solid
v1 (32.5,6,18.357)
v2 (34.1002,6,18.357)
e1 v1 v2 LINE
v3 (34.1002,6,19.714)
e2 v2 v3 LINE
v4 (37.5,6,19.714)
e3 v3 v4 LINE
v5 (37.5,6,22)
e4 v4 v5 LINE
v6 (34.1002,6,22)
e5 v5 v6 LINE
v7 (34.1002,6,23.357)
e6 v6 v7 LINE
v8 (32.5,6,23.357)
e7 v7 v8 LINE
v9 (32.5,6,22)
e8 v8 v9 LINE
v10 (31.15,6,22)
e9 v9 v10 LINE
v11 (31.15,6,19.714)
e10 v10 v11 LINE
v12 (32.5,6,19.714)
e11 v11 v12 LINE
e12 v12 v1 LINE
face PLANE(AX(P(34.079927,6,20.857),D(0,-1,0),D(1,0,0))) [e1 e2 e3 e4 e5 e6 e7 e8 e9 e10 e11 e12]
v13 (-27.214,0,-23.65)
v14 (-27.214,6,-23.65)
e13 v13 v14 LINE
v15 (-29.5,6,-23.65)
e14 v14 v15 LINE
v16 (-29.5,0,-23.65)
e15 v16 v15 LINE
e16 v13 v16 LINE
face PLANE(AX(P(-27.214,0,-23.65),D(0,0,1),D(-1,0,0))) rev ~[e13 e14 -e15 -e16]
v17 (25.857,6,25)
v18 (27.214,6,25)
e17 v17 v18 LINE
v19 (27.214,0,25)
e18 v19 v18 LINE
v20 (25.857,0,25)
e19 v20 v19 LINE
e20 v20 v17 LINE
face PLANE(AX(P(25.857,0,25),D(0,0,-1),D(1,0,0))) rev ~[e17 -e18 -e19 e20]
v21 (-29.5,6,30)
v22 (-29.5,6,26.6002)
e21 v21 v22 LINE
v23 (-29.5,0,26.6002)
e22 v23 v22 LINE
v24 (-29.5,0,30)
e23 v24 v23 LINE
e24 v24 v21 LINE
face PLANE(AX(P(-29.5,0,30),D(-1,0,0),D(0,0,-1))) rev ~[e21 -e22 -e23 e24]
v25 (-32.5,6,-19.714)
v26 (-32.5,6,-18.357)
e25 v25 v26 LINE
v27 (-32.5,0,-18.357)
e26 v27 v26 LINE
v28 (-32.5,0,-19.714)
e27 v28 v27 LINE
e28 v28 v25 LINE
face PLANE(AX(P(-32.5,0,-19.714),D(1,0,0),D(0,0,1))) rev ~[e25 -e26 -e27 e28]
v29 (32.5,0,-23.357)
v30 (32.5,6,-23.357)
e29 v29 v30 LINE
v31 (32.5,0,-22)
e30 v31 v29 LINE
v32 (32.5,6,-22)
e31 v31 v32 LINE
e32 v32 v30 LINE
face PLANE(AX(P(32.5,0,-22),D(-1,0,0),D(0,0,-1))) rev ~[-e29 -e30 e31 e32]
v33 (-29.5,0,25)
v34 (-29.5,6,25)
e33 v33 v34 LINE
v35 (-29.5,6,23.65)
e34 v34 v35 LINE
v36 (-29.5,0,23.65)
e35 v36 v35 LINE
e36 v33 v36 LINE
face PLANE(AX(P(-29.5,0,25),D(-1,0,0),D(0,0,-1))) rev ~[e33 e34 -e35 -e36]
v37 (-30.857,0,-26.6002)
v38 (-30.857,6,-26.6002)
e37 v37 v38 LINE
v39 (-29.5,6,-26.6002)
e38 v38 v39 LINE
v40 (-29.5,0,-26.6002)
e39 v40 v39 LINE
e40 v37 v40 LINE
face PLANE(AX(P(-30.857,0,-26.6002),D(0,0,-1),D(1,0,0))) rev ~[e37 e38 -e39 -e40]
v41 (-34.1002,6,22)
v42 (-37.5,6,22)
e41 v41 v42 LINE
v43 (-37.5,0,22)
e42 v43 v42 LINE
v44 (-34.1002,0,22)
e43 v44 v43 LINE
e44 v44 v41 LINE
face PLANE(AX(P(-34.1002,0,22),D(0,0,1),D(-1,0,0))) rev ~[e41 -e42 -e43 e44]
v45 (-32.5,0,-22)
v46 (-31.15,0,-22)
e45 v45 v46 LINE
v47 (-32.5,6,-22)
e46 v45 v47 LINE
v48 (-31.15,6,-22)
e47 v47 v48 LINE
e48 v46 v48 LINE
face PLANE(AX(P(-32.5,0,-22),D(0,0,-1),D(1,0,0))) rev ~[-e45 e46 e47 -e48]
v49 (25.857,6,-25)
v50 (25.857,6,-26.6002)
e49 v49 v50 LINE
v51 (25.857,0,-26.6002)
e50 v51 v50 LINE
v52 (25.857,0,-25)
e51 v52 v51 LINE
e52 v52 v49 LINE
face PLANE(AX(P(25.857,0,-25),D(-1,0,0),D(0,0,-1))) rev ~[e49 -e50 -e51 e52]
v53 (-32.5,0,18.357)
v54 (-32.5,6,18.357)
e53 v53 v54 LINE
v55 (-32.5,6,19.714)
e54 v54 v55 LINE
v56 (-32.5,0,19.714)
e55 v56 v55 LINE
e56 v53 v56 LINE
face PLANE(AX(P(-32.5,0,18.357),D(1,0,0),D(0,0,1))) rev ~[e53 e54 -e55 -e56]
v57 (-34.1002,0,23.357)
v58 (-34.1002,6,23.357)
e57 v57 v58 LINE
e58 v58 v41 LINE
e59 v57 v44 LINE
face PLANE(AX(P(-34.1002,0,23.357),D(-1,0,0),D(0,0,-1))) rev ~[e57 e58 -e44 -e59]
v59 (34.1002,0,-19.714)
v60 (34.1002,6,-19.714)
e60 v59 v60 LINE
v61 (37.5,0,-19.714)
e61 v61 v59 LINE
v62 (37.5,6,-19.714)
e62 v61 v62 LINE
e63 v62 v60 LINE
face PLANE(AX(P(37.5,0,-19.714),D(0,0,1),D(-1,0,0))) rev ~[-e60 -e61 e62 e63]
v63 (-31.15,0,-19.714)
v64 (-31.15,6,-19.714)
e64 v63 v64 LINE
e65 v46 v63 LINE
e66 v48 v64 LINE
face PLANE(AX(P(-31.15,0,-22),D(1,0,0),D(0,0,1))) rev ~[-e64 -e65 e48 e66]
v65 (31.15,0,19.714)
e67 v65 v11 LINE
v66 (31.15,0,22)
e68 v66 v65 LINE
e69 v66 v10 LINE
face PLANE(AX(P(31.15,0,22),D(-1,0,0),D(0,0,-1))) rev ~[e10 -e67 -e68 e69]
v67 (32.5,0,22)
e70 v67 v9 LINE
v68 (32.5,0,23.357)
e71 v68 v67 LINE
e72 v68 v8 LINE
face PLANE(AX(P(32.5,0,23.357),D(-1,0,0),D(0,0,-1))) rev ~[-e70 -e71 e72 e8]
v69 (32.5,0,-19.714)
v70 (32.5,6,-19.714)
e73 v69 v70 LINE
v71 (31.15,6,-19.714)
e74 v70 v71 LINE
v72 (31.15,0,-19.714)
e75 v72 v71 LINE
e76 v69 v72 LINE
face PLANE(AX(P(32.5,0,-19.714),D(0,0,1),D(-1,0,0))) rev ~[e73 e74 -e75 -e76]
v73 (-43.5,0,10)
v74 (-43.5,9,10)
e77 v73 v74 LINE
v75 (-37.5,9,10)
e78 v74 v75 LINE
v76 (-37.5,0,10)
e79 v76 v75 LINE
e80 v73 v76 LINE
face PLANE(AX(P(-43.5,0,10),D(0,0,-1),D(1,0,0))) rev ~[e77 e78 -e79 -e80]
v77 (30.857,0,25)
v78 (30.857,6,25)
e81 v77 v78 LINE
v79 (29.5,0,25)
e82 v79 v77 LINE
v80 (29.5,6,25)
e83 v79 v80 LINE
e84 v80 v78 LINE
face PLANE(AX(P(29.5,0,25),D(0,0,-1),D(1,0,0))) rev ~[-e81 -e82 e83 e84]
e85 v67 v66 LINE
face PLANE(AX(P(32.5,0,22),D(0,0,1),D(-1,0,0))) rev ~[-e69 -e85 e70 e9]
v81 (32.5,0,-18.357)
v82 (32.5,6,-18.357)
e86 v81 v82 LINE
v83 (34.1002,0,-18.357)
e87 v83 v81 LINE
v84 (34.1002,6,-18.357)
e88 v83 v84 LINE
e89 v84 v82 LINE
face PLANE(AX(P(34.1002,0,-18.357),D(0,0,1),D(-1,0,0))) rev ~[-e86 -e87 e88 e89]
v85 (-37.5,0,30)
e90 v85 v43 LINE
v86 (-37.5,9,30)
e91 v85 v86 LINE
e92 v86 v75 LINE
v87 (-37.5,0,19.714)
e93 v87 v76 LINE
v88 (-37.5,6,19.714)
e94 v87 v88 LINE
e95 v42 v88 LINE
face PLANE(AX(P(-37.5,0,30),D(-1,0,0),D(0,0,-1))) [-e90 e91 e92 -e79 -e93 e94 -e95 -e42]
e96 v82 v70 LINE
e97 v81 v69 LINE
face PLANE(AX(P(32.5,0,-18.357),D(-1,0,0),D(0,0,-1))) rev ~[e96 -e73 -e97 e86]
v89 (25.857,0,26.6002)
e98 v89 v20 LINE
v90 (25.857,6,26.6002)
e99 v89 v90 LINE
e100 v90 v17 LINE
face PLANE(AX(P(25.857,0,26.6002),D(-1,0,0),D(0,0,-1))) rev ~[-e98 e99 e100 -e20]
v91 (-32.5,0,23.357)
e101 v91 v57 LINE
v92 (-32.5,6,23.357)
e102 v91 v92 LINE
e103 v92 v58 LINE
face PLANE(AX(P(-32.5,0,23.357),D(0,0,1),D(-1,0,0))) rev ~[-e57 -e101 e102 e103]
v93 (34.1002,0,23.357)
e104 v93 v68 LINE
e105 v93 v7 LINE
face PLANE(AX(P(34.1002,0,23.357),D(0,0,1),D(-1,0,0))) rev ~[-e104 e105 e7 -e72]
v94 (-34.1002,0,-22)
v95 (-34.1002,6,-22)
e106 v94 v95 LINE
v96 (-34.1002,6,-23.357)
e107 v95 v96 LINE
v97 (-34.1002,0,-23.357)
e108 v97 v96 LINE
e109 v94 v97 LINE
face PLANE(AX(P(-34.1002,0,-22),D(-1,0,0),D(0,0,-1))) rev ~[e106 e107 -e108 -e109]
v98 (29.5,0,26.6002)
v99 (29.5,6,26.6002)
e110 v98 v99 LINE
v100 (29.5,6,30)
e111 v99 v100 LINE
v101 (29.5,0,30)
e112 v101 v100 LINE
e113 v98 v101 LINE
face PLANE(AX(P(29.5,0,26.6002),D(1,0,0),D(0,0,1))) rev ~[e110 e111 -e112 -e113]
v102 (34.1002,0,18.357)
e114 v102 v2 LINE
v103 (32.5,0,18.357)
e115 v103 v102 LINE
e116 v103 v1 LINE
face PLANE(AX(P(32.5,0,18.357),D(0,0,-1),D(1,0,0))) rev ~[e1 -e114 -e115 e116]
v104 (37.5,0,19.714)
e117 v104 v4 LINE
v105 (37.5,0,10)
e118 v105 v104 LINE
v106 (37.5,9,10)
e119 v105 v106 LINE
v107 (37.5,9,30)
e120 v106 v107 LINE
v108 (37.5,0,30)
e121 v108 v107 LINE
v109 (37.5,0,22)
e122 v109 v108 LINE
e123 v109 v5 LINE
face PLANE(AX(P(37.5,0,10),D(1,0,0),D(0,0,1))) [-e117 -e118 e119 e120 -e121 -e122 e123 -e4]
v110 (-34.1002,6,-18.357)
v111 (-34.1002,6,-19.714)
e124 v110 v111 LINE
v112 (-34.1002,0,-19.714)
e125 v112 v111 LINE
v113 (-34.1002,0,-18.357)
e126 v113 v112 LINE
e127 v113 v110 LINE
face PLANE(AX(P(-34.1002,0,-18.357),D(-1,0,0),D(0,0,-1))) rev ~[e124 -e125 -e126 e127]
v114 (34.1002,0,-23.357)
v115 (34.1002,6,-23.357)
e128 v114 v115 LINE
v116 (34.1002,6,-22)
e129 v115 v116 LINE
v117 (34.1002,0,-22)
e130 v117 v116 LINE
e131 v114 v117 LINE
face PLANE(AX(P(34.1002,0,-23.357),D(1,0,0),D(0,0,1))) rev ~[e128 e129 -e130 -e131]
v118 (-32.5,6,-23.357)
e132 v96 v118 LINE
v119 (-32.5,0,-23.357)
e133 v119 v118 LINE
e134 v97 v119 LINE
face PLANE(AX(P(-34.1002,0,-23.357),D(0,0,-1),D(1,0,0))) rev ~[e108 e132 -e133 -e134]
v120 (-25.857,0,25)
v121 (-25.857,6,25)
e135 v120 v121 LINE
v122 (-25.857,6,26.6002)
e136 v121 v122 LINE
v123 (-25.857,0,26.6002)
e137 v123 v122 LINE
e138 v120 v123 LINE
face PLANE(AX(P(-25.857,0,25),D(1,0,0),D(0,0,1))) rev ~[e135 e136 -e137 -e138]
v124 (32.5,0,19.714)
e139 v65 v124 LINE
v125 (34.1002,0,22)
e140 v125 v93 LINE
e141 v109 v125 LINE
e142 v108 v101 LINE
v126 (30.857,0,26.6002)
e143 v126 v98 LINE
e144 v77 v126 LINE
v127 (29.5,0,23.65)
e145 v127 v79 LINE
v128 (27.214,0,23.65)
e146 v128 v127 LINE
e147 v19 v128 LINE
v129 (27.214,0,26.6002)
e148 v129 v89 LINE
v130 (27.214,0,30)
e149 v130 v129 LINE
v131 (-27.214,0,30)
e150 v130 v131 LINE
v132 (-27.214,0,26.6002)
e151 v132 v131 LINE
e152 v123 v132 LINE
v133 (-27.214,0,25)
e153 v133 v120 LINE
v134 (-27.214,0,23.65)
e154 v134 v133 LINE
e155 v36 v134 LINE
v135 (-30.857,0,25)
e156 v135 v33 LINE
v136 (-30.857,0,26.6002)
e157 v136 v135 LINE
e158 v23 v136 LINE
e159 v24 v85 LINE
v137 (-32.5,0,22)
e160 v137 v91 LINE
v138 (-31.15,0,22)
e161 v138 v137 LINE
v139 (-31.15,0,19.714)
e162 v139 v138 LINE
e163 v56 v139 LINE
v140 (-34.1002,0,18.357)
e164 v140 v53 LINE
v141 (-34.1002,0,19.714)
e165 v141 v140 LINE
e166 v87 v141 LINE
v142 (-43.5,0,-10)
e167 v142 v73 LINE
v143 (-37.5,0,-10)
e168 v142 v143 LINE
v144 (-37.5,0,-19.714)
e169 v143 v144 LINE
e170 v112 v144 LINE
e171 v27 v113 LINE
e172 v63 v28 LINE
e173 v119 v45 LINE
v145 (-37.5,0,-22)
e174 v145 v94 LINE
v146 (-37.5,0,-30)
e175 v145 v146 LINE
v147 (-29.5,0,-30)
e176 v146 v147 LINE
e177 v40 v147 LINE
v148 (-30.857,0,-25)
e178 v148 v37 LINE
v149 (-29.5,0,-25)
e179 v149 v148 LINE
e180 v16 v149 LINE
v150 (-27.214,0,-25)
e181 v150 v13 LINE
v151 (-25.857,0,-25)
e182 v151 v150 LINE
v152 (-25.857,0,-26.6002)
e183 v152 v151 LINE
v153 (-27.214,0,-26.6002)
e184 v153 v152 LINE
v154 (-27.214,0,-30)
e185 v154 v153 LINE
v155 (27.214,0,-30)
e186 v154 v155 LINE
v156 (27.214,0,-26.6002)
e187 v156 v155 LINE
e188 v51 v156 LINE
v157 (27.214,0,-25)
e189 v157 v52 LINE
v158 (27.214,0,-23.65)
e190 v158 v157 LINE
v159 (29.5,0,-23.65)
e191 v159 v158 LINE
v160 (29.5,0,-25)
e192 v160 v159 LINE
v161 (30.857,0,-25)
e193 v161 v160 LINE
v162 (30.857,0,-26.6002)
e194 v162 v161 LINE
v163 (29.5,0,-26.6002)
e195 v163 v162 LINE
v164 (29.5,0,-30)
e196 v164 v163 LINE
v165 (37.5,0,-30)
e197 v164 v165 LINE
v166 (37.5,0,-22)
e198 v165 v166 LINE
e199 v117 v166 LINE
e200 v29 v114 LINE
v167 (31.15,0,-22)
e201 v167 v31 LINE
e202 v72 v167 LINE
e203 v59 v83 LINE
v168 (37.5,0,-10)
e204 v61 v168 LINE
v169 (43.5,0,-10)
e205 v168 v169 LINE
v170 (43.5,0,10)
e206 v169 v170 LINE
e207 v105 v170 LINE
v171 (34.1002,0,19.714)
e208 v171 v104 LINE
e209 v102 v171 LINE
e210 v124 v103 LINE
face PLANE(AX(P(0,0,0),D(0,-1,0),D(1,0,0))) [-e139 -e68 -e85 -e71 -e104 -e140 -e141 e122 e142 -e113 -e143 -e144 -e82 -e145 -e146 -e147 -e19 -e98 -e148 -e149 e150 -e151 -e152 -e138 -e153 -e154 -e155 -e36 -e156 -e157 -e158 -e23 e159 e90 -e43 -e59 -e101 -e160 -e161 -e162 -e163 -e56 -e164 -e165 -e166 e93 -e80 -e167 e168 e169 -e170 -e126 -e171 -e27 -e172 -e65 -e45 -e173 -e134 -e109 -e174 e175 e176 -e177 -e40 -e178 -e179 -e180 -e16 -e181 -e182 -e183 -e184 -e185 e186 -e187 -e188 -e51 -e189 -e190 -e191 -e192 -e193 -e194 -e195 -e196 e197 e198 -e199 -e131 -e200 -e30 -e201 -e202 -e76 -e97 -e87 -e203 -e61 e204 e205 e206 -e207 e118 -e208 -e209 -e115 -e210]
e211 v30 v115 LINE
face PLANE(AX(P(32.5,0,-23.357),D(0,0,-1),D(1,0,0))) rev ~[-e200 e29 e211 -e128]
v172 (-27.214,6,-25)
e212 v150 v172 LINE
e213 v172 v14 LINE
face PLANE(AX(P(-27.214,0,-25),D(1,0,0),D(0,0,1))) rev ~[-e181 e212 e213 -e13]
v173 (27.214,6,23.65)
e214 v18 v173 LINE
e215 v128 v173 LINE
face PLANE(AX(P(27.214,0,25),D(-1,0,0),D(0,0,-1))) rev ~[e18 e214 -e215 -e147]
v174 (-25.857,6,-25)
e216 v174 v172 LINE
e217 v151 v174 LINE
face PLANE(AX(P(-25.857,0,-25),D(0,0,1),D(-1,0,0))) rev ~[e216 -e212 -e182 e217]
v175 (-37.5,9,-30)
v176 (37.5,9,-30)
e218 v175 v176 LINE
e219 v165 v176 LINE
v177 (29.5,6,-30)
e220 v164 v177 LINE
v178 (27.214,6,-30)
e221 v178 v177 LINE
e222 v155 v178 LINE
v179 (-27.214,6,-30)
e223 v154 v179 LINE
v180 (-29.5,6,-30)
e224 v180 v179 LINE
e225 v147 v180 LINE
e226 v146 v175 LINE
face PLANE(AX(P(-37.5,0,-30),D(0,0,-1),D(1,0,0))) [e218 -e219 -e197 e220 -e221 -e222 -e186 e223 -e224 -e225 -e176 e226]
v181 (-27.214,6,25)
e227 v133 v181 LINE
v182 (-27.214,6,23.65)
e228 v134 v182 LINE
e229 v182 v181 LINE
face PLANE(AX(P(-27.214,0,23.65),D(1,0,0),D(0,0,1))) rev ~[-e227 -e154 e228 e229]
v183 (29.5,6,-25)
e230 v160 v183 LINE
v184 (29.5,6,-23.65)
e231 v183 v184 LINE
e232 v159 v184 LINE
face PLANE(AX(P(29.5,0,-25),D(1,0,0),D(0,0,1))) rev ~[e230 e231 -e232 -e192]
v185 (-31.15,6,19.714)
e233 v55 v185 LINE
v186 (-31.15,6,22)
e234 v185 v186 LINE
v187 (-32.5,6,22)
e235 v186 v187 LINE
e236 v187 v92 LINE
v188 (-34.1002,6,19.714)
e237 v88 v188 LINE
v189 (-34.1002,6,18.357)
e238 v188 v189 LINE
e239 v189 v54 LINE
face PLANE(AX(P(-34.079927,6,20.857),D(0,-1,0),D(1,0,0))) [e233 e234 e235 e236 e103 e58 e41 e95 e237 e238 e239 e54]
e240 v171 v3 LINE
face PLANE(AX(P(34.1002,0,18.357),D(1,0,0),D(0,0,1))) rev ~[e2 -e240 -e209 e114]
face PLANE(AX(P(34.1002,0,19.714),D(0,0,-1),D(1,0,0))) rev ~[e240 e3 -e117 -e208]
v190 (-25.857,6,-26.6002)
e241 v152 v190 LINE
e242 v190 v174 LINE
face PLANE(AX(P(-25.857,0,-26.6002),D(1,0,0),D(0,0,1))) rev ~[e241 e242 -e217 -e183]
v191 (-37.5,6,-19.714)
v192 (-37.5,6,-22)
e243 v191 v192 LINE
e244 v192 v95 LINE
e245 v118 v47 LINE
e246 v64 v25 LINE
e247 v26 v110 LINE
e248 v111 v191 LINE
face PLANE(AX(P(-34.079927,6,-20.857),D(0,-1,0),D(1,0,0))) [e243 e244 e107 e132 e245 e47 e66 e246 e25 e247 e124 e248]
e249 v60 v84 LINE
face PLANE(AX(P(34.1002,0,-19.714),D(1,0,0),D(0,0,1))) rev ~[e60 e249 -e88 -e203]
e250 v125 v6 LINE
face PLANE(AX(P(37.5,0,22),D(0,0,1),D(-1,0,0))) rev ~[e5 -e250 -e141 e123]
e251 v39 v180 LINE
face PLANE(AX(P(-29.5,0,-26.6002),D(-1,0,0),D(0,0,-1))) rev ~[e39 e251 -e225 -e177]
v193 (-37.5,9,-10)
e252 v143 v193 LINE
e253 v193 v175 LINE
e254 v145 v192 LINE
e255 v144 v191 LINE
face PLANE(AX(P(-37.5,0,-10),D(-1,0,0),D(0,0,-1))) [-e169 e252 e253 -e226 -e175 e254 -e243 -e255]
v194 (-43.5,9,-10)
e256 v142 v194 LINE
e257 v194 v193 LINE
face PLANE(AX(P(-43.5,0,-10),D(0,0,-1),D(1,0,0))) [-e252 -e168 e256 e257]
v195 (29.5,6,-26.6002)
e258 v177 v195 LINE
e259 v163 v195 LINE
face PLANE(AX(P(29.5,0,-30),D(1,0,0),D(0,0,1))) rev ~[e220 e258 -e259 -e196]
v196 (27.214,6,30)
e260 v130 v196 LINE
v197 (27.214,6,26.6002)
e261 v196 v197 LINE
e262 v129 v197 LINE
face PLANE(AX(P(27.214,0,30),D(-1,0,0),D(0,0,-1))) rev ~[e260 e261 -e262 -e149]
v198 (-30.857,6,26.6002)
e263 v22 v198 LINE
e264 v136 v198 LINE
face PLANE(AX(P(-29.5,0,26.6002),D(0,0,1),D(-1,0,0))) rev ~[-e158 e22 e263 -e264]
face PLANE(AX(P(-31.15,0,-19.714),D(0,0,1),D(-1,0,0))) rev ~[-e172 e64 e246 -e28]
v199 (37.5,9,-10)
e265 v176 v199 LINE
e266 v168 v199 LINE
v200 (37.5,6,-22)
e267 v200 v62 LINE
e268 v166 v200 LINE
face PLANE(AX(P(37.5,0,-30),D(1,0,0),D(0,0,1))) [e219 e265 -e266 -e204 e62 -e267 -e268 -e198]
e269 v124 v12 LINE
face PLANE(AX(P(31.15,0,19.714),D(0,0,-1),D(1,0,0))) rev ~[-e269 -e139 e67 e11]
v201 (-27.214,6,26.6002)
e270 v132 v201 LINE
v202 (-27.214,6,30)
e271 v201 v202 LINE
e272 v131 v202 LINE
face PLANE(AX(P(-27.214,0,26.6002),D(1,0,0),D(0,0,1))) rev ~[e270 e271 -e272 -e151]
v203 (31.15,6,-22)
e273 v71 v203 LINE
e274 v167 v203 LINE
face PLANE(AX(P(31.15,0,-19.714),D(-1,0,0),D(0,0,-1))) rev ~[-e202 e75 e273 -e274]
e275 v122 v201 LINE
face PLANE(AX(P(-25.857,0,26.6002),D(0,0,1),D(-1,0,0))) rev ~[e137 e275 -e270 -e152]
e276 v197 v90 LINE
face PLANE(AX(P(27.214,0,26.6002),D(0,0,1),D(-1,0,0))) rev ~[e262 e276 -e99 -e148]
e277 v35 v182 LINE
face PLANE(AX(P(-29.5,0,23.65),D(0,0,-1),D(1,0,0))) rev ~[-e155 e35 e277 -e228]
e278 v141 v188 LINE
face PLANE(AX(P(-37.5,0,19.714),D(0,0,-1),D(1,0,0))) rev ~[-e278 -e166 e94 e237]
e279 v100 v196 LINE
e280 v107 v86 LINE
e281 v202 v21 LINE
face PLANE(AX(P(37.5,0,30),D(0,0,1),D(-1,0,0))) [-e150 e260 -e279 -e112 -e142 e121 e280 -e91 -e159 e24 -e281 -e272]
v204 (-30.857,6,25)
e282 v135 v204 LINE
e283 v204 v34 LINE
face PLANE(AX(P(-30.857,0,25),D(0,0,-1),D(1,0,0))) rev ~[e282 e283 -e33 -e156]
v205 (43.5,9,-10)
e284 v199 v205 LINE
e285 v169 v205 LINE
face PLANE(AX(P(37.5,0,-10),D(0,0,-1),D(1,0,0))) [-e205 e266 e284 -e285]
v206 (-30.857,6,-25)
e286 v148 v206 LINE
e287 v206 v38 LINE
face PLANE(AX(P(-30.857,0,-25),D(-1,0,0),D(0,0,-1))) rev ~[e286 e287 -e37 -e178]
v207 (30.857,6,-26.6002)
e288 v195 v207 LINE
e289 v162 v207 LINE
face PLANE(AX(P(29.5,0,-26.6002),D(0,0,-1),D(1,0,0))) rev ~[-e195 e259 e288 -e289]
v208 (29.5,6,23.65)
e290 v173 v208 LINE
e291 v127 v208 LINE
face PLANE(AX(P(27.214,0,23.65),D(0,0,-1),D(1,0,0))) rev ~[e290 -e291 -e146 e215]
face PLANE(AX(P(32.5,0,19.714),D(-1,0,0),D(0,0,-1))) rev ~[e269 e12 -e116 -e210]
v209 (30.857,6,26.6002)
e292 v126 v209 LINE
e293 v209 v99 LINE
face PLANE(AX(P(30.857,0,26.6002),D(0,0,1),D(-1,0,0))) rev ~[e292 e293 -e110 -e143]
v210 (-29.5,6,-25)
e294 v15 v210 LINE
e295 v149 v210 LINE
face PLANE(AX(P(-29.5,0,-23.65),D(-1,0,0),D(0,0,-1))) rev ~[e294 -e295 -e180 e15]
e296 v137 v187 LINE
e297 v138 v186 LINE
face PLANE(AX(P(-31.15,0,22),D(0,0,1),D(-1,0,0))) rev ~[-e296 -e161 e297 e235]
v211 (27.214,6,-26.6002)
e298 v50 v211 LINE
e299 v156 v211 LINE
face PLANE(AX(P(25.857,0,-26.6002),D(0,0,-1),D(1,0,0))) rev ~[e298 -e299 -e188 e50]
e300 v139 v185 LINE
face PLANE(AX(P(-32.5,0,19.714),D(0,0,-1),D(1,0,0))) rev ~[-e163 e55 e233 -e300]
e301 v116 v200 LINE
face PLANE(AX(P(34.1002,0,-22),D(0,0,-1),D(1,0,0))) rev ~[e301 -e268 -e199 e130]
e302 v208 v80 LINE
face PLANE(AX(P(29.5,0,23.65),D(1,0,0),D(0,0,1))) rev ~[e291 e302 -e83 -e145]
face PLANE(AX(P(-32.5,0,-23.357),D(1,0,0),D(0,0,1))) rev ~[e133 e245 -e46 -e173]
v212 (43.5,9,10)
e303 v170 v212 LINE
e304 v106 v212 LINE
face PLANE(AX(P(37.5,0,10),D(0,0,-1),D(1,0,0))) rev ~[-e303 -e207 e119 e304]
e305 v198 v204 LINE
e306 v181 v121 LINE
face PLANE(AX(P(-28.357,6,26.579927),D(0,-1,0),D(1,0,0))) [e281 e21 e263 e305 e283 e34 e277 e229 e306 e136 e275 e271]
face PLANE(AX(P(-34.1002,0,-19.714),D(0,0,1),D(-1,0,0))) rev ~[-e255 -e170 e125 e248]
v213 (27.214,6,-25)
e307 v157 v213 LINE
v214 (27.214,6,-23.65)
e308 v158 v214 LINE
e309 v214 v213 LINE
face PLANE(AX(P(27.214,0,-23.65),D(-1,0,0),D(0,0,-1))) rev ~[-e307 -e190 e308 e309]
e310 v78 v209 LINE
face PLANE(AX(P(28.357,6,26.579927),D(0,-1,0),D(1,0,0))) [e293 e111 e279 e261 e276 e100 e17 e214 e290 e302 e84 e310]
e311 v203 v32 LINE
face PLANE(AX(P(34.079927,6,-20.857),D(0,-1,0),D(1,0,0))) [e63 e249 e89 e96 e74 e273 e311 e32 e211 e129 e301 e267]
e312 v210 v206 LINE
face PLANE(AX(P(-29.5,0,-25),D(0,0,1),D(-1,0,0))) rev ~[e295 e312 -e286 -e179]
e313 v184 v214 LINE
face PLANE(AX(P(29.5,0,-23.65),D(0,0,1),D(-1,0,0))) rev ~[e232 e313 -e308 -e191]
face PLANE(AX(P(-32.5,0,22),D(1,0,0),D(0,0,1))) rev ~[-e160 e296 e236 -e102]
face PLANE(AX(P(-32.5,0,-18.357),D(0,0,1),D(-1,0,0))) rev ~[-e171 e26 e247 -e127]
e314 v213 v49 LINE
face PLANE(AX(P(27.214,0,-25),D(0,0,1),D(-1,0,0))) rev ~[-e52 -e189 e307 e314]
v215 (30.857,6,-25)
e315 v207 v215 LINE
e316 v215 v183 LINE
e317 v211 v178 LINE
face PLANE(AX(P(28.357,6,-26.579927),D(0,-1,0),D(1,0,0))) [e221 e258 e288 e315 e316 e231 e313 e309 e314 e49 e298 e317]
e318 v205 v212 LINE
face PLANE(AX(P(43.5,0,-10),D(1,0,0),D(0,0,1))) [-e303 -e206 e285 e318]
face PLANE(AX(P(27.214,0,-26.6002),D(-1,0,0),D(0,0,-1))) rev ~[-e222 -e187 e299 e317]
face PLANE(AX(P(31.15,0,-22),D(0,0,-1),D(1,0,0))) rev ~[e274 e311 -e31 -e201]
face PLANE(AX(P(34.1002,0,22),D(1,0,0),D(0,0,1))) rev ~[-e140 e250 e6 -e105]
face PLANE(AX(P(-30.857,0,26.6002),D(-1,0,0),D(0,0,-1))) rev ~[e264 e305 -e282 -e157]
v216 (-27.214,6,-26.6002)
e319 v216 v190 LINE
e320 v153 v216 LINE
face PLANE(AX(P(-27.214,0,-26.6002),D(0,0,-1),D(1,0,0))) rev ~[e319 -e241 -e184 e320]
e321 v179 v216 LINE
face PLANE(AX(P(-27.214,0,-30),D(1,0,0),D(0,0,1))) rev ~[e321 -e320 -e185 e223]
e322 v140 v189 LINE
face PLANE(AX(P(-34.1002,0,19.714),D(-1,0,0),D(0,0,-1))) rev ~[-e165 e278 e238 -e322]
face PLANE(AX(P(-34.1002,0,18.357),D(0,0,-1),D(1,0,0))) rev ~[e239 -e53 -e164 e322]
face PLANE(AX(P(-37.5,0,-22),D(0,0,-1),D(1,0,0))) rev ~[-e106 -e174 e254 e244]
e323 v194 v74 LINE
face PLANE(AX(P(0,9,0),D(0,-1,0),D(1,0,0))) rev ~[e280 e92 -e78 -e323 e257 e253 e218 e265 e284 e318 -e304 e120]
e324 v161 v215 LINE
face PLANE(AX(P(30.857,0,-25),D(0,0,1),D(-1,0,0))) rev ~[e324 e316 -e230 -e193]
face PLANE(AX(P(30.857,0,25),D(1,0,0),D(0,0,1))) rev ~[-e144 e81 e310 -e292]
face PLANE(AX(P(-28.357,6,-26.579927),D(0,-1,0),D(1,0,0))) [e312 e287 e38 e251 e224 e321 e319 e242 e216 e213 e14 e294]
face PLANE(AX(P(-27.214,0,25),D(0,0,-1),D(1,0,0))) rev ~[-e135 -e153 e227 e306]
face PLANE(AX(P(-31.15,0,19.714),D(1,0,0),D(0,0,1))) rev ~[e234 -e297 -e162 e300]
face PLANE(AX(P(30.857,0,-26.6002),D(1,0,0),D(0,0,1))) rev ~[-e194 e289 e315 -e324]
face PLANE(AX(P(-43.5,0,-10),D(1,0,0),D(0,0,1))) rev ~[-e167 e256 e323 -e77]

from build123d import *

# Parameters (mm, degrees)
F0_W     = 6
F0_H     = 20
F1_DEPTH = 9
F2_DEPTH = 6


with BuildPart() as f1:
    # F0 (on Front) → F1 (new body)
    with BuildSketch(Plane.XZ):
        Polygon((-37.5, -22), (-37.5, -30), (-29.5, -30), (-29.5, -26.6002), (-30.857, -26.6002), (-30.857, -25), (-29.5, -25), (-29.5, -23.65), (-27.214, -23.65), (-27.214, -25), (-25.857, -25), (-25.857, -26.6002), (-27.214, -26.6002), (-27.214, -30), (27.214, -30), (27.214, -26.6002), (25.857, -26.6002), (25.857, -25), (27.214, -25), (27.214, -23.65), (29.5, -23.65), (29.5, -25), (30.857, -25), (30.857, -26.6002), (29.5, -26.6002), (29.5, -30), (37.5, -30), (37.5, -22), (34.1002, -22), (34.1002, -23.357), (32.5, -23.357), (32.5, -22), (31.15, -22), (31.15, -19.714), (32.5, -19.714), (32.5, -18.357), (34.1002, -18.357), (34.1002, -19.714), (37.5, -19.714), (37.5, -10), (37.5, 10), (37.5, 19.714), (34.1002, 19.714), (34.1002, 18.357), (32.5, 18.357), (32.5, 19.714), (31.15, 19.714), (31.15, 22), (32.5, 22), (32.5, 23.357), (34.1002, 23.357), (34.1002, 22), (37.5, 22), (37.5, 30), (29.5, 30), (29.5, 26.6002), (30.857, 26.6002), (30.857, 25), (29.5, 25), (29.5, 23.65), (27.214, 23.65), (27.214, 25), (25.857, 25), (25.857, 26.6002), (27.214, 26.6002), (27.214, 30), (-27.214, 30), (-27.214, 26.6002), (-25.857, 26.6002), (-25.857, 25), (-27.214, 25), (-27.214, 23.65), (-29.5, 23.65), (-29.5, 25), (-30.857, 25), (-30.857, 26.6002), (-29.5, 26.6002), (-29.5, 30), (-37.5, 30), (-37.5, 22), (-34.1002, 22), (-34.1002, 23.357), (-32.5, 23.357), (-32.5, 22), (-31.15, 22), (-31.15, 19.714), (-32.5, 19.714), (-32.5, 18.357), (-34.1002, 18.357), (-34.1002, 19.714), (-37.5, 19.714), (-37.5, 10), (-37.5, -10), (-37.5, -19.714), (-34.1002, -19.714), (-34.1002, -18.357), (-32.5, -18.357), (-32.5, -19.714), (-31.15, -19.714), (-31.15, -22), (-32.5, -22), (-32.5, -23.357), (-34.1002, -23.357), (-34.1002, -22), align=None)
        Polygon((-29.5, -26.6002), (-29.5, -30), (-27.214, -30), (-27.214, -26.6002), (-25.857, -26.6002), (-25.857, -25), (-27.214, -25), (-27.214, -23.65), (-29.5, -23.65), (-29.5, -25), (-30.857, -25), (-30.857, -26.6002), align=None)
        Polygon((-37.5, -19.714), (-37.5, -22), (-34.1002, -22), (-34.1002, -23.357), (-32.5, -23.357), (-32.5, -22), (-31.15, -22), (-31.15, -19.714), (-32.5, -19.714), (-32.5, -18.357), (-34.1002, -18.357), (-34.1002, -19.714), align=None)
        Polygon((27.214, -26.6002), (27.214, -30), (29.5, -30), (29.5, -26.6002), (30.857, -26.6002), (30.857, -25), (29.5, -25), (29.5, -23.65), (27.214, -23.65), (27.214, -25), (25.857, -25), (25.857, -26.6002), align=None)
        with Locations((-40.5, 0)):
            Rectangle(F0_W, F0_H)
        Polygon((-37.5, 22), (-37.5, 19.714), (-34.1002, 19.714), (-34.1002, 18.357), (-32.5, 18.357), (-32.5, 19.714), (-31.15, 19.714), (-31.15, 22), (-32.5, 22), (-32.5, 23.357), (-34.1002, 23.357), (-34.1002, 22), align=None)
        Polygon((34.1002, -22), (37.5, -22), (37.5, -19.714), (34.1002, -19.714), (34.1002, -18.357), (32.5, -18.357), (32.5, -19.714), (31.15, -19.714), (31.15, -22), (32.5, -22), (32.5, -23.357), (34.1002, -23.357), align=None)
        with Locations((40.5, 0)):
            Rectangle(F0_W, F0_H)
        Polygon((-27.214, 30), (-29.5, 30), (-29.5, 26.6002), (-30.857, 26.6002), (-30.857, 25), (-29.5, 25), (-29.5, 23.65), (-27.214, 23.65), (-27.214, 25), (-25.857, 25), (-25.857, 26.6002), (-27.214, 26.6002), align=None)
        Polygon((34.1002, 19.714), (37.5, 19.714), (37.5, 22), (34.1002, 22), (34.1002, 23.357), (32.5, 23.357), (32.5, 22), (31.15, 22), (31.15, 19.714), (32.5, 19.714), (32.5, 18.357), (34.1002, 18.357), align=None)
        Polygon((29.5, 30), (27.214, 30), (27.214, 26.6002), (25.857, 26.6002), (25.857, 25), (27.214, 25), (27.214, 23.65), (29.5, 23.65), (29.5, 25), (30.857, 25), (30.857, 26.6002), (29.5, 26.6002), align=None)
    extrude(amount=-F1_DEPTH)

    # F0 (on Front) → F2 (cut)
    with BuildSketch(Plane.XZ):
        Polygon((-37.5, 22), (-37.5, 19.714), (-34.1002, 19.714), (-34.1002, 18.357), (-32.5, 18.357), (-32.5, 19.714), (-31.15, 19.714), (-31.15, 22), (-32.5, 22), (-32.5, 23.357), (-34.1002, 23.357), (-34.1002, 22), align=None)
        Polygon((-27.214, 30), (-29.5, 30), (-29.5, 26.6002), (-30.857, 26.6002), (-30.857, 25), (-29.5, 25), (-29.5, 23.65), (-27.214, 23.65), (-27.214, 25), (-25.857, 25), (-25.857, 26.6002), (-27.214, 26.6002), align=None)
        Polygon((-37.5, -19.714), (-37.5, -22), (-34.1002, -22), (-34.1002, -23.357), (-32.5, -23.357), (-32.5, -22), (-31.15, -22), (-31.15, -19.714), (-32.5, -19.714), (-32.5, -18.357), (-34.1002, -18.357), (-34.1002, -19.714), align=None)
        Polygon((-29.5, -26.6002), (-29.5, -30), (-27.214, -30), (-27.214, -26.6002), (-25.857, -26.6002), (-25.857, -25), (-27.214, -25), (-27.214, -23.65), (-29.5, -23.65), (-29.5, -25), (-30.857, -25), (-30.857, -26.6002), align=None)
        Polygon((27.214, -26.6002), (27.214, -30), (29.5, -30), (29.5, -26.6002), (30.857, -26.6002), (30.857, -25), (29.5, -25), (29.5, -23.65), (27.214, -23.65), (27.214, -25), (25.857, -25), (25.857, -26.6002), align=None)
        Polygon((34.1002, -22), (37.5, -22), (37.5, -19.714), (34.1002, -19.714), (34.1002, -18.357), (32.5, -18.357), (32.5, -19.714), (31.15, -19.714), (31.15, -22), (32.5, -22), (32.5, -23.357), (34.1002, -23.357), align=None)
        Polygon((34.1002, 19.714), (37.5, 19.714), (37.5, 22), (34.1002, 22), (34.1002, 23.357), (32.5, 23.357), (32.5, 22), (31.15, 22), (31.15, 19.714), (32.5, 19.714), (32.5, 18.357), (34.1002, 18.357), align=None)
        Polygon((29.5, 30), (27.214, 30), (27.214, 26.6002), (25.857, 26.6002), (25.857, 25), (27.214, 25), (27.214, 23.65), (29.5, 23.65), (29.5, 25), (30.857, 25), (30.857, 26.6002), (29.5, 26.6002), align=None)
    extrude(amount=-F2_DEPTH, mode=Mode.SUBTRACT)


solid = f1.part
